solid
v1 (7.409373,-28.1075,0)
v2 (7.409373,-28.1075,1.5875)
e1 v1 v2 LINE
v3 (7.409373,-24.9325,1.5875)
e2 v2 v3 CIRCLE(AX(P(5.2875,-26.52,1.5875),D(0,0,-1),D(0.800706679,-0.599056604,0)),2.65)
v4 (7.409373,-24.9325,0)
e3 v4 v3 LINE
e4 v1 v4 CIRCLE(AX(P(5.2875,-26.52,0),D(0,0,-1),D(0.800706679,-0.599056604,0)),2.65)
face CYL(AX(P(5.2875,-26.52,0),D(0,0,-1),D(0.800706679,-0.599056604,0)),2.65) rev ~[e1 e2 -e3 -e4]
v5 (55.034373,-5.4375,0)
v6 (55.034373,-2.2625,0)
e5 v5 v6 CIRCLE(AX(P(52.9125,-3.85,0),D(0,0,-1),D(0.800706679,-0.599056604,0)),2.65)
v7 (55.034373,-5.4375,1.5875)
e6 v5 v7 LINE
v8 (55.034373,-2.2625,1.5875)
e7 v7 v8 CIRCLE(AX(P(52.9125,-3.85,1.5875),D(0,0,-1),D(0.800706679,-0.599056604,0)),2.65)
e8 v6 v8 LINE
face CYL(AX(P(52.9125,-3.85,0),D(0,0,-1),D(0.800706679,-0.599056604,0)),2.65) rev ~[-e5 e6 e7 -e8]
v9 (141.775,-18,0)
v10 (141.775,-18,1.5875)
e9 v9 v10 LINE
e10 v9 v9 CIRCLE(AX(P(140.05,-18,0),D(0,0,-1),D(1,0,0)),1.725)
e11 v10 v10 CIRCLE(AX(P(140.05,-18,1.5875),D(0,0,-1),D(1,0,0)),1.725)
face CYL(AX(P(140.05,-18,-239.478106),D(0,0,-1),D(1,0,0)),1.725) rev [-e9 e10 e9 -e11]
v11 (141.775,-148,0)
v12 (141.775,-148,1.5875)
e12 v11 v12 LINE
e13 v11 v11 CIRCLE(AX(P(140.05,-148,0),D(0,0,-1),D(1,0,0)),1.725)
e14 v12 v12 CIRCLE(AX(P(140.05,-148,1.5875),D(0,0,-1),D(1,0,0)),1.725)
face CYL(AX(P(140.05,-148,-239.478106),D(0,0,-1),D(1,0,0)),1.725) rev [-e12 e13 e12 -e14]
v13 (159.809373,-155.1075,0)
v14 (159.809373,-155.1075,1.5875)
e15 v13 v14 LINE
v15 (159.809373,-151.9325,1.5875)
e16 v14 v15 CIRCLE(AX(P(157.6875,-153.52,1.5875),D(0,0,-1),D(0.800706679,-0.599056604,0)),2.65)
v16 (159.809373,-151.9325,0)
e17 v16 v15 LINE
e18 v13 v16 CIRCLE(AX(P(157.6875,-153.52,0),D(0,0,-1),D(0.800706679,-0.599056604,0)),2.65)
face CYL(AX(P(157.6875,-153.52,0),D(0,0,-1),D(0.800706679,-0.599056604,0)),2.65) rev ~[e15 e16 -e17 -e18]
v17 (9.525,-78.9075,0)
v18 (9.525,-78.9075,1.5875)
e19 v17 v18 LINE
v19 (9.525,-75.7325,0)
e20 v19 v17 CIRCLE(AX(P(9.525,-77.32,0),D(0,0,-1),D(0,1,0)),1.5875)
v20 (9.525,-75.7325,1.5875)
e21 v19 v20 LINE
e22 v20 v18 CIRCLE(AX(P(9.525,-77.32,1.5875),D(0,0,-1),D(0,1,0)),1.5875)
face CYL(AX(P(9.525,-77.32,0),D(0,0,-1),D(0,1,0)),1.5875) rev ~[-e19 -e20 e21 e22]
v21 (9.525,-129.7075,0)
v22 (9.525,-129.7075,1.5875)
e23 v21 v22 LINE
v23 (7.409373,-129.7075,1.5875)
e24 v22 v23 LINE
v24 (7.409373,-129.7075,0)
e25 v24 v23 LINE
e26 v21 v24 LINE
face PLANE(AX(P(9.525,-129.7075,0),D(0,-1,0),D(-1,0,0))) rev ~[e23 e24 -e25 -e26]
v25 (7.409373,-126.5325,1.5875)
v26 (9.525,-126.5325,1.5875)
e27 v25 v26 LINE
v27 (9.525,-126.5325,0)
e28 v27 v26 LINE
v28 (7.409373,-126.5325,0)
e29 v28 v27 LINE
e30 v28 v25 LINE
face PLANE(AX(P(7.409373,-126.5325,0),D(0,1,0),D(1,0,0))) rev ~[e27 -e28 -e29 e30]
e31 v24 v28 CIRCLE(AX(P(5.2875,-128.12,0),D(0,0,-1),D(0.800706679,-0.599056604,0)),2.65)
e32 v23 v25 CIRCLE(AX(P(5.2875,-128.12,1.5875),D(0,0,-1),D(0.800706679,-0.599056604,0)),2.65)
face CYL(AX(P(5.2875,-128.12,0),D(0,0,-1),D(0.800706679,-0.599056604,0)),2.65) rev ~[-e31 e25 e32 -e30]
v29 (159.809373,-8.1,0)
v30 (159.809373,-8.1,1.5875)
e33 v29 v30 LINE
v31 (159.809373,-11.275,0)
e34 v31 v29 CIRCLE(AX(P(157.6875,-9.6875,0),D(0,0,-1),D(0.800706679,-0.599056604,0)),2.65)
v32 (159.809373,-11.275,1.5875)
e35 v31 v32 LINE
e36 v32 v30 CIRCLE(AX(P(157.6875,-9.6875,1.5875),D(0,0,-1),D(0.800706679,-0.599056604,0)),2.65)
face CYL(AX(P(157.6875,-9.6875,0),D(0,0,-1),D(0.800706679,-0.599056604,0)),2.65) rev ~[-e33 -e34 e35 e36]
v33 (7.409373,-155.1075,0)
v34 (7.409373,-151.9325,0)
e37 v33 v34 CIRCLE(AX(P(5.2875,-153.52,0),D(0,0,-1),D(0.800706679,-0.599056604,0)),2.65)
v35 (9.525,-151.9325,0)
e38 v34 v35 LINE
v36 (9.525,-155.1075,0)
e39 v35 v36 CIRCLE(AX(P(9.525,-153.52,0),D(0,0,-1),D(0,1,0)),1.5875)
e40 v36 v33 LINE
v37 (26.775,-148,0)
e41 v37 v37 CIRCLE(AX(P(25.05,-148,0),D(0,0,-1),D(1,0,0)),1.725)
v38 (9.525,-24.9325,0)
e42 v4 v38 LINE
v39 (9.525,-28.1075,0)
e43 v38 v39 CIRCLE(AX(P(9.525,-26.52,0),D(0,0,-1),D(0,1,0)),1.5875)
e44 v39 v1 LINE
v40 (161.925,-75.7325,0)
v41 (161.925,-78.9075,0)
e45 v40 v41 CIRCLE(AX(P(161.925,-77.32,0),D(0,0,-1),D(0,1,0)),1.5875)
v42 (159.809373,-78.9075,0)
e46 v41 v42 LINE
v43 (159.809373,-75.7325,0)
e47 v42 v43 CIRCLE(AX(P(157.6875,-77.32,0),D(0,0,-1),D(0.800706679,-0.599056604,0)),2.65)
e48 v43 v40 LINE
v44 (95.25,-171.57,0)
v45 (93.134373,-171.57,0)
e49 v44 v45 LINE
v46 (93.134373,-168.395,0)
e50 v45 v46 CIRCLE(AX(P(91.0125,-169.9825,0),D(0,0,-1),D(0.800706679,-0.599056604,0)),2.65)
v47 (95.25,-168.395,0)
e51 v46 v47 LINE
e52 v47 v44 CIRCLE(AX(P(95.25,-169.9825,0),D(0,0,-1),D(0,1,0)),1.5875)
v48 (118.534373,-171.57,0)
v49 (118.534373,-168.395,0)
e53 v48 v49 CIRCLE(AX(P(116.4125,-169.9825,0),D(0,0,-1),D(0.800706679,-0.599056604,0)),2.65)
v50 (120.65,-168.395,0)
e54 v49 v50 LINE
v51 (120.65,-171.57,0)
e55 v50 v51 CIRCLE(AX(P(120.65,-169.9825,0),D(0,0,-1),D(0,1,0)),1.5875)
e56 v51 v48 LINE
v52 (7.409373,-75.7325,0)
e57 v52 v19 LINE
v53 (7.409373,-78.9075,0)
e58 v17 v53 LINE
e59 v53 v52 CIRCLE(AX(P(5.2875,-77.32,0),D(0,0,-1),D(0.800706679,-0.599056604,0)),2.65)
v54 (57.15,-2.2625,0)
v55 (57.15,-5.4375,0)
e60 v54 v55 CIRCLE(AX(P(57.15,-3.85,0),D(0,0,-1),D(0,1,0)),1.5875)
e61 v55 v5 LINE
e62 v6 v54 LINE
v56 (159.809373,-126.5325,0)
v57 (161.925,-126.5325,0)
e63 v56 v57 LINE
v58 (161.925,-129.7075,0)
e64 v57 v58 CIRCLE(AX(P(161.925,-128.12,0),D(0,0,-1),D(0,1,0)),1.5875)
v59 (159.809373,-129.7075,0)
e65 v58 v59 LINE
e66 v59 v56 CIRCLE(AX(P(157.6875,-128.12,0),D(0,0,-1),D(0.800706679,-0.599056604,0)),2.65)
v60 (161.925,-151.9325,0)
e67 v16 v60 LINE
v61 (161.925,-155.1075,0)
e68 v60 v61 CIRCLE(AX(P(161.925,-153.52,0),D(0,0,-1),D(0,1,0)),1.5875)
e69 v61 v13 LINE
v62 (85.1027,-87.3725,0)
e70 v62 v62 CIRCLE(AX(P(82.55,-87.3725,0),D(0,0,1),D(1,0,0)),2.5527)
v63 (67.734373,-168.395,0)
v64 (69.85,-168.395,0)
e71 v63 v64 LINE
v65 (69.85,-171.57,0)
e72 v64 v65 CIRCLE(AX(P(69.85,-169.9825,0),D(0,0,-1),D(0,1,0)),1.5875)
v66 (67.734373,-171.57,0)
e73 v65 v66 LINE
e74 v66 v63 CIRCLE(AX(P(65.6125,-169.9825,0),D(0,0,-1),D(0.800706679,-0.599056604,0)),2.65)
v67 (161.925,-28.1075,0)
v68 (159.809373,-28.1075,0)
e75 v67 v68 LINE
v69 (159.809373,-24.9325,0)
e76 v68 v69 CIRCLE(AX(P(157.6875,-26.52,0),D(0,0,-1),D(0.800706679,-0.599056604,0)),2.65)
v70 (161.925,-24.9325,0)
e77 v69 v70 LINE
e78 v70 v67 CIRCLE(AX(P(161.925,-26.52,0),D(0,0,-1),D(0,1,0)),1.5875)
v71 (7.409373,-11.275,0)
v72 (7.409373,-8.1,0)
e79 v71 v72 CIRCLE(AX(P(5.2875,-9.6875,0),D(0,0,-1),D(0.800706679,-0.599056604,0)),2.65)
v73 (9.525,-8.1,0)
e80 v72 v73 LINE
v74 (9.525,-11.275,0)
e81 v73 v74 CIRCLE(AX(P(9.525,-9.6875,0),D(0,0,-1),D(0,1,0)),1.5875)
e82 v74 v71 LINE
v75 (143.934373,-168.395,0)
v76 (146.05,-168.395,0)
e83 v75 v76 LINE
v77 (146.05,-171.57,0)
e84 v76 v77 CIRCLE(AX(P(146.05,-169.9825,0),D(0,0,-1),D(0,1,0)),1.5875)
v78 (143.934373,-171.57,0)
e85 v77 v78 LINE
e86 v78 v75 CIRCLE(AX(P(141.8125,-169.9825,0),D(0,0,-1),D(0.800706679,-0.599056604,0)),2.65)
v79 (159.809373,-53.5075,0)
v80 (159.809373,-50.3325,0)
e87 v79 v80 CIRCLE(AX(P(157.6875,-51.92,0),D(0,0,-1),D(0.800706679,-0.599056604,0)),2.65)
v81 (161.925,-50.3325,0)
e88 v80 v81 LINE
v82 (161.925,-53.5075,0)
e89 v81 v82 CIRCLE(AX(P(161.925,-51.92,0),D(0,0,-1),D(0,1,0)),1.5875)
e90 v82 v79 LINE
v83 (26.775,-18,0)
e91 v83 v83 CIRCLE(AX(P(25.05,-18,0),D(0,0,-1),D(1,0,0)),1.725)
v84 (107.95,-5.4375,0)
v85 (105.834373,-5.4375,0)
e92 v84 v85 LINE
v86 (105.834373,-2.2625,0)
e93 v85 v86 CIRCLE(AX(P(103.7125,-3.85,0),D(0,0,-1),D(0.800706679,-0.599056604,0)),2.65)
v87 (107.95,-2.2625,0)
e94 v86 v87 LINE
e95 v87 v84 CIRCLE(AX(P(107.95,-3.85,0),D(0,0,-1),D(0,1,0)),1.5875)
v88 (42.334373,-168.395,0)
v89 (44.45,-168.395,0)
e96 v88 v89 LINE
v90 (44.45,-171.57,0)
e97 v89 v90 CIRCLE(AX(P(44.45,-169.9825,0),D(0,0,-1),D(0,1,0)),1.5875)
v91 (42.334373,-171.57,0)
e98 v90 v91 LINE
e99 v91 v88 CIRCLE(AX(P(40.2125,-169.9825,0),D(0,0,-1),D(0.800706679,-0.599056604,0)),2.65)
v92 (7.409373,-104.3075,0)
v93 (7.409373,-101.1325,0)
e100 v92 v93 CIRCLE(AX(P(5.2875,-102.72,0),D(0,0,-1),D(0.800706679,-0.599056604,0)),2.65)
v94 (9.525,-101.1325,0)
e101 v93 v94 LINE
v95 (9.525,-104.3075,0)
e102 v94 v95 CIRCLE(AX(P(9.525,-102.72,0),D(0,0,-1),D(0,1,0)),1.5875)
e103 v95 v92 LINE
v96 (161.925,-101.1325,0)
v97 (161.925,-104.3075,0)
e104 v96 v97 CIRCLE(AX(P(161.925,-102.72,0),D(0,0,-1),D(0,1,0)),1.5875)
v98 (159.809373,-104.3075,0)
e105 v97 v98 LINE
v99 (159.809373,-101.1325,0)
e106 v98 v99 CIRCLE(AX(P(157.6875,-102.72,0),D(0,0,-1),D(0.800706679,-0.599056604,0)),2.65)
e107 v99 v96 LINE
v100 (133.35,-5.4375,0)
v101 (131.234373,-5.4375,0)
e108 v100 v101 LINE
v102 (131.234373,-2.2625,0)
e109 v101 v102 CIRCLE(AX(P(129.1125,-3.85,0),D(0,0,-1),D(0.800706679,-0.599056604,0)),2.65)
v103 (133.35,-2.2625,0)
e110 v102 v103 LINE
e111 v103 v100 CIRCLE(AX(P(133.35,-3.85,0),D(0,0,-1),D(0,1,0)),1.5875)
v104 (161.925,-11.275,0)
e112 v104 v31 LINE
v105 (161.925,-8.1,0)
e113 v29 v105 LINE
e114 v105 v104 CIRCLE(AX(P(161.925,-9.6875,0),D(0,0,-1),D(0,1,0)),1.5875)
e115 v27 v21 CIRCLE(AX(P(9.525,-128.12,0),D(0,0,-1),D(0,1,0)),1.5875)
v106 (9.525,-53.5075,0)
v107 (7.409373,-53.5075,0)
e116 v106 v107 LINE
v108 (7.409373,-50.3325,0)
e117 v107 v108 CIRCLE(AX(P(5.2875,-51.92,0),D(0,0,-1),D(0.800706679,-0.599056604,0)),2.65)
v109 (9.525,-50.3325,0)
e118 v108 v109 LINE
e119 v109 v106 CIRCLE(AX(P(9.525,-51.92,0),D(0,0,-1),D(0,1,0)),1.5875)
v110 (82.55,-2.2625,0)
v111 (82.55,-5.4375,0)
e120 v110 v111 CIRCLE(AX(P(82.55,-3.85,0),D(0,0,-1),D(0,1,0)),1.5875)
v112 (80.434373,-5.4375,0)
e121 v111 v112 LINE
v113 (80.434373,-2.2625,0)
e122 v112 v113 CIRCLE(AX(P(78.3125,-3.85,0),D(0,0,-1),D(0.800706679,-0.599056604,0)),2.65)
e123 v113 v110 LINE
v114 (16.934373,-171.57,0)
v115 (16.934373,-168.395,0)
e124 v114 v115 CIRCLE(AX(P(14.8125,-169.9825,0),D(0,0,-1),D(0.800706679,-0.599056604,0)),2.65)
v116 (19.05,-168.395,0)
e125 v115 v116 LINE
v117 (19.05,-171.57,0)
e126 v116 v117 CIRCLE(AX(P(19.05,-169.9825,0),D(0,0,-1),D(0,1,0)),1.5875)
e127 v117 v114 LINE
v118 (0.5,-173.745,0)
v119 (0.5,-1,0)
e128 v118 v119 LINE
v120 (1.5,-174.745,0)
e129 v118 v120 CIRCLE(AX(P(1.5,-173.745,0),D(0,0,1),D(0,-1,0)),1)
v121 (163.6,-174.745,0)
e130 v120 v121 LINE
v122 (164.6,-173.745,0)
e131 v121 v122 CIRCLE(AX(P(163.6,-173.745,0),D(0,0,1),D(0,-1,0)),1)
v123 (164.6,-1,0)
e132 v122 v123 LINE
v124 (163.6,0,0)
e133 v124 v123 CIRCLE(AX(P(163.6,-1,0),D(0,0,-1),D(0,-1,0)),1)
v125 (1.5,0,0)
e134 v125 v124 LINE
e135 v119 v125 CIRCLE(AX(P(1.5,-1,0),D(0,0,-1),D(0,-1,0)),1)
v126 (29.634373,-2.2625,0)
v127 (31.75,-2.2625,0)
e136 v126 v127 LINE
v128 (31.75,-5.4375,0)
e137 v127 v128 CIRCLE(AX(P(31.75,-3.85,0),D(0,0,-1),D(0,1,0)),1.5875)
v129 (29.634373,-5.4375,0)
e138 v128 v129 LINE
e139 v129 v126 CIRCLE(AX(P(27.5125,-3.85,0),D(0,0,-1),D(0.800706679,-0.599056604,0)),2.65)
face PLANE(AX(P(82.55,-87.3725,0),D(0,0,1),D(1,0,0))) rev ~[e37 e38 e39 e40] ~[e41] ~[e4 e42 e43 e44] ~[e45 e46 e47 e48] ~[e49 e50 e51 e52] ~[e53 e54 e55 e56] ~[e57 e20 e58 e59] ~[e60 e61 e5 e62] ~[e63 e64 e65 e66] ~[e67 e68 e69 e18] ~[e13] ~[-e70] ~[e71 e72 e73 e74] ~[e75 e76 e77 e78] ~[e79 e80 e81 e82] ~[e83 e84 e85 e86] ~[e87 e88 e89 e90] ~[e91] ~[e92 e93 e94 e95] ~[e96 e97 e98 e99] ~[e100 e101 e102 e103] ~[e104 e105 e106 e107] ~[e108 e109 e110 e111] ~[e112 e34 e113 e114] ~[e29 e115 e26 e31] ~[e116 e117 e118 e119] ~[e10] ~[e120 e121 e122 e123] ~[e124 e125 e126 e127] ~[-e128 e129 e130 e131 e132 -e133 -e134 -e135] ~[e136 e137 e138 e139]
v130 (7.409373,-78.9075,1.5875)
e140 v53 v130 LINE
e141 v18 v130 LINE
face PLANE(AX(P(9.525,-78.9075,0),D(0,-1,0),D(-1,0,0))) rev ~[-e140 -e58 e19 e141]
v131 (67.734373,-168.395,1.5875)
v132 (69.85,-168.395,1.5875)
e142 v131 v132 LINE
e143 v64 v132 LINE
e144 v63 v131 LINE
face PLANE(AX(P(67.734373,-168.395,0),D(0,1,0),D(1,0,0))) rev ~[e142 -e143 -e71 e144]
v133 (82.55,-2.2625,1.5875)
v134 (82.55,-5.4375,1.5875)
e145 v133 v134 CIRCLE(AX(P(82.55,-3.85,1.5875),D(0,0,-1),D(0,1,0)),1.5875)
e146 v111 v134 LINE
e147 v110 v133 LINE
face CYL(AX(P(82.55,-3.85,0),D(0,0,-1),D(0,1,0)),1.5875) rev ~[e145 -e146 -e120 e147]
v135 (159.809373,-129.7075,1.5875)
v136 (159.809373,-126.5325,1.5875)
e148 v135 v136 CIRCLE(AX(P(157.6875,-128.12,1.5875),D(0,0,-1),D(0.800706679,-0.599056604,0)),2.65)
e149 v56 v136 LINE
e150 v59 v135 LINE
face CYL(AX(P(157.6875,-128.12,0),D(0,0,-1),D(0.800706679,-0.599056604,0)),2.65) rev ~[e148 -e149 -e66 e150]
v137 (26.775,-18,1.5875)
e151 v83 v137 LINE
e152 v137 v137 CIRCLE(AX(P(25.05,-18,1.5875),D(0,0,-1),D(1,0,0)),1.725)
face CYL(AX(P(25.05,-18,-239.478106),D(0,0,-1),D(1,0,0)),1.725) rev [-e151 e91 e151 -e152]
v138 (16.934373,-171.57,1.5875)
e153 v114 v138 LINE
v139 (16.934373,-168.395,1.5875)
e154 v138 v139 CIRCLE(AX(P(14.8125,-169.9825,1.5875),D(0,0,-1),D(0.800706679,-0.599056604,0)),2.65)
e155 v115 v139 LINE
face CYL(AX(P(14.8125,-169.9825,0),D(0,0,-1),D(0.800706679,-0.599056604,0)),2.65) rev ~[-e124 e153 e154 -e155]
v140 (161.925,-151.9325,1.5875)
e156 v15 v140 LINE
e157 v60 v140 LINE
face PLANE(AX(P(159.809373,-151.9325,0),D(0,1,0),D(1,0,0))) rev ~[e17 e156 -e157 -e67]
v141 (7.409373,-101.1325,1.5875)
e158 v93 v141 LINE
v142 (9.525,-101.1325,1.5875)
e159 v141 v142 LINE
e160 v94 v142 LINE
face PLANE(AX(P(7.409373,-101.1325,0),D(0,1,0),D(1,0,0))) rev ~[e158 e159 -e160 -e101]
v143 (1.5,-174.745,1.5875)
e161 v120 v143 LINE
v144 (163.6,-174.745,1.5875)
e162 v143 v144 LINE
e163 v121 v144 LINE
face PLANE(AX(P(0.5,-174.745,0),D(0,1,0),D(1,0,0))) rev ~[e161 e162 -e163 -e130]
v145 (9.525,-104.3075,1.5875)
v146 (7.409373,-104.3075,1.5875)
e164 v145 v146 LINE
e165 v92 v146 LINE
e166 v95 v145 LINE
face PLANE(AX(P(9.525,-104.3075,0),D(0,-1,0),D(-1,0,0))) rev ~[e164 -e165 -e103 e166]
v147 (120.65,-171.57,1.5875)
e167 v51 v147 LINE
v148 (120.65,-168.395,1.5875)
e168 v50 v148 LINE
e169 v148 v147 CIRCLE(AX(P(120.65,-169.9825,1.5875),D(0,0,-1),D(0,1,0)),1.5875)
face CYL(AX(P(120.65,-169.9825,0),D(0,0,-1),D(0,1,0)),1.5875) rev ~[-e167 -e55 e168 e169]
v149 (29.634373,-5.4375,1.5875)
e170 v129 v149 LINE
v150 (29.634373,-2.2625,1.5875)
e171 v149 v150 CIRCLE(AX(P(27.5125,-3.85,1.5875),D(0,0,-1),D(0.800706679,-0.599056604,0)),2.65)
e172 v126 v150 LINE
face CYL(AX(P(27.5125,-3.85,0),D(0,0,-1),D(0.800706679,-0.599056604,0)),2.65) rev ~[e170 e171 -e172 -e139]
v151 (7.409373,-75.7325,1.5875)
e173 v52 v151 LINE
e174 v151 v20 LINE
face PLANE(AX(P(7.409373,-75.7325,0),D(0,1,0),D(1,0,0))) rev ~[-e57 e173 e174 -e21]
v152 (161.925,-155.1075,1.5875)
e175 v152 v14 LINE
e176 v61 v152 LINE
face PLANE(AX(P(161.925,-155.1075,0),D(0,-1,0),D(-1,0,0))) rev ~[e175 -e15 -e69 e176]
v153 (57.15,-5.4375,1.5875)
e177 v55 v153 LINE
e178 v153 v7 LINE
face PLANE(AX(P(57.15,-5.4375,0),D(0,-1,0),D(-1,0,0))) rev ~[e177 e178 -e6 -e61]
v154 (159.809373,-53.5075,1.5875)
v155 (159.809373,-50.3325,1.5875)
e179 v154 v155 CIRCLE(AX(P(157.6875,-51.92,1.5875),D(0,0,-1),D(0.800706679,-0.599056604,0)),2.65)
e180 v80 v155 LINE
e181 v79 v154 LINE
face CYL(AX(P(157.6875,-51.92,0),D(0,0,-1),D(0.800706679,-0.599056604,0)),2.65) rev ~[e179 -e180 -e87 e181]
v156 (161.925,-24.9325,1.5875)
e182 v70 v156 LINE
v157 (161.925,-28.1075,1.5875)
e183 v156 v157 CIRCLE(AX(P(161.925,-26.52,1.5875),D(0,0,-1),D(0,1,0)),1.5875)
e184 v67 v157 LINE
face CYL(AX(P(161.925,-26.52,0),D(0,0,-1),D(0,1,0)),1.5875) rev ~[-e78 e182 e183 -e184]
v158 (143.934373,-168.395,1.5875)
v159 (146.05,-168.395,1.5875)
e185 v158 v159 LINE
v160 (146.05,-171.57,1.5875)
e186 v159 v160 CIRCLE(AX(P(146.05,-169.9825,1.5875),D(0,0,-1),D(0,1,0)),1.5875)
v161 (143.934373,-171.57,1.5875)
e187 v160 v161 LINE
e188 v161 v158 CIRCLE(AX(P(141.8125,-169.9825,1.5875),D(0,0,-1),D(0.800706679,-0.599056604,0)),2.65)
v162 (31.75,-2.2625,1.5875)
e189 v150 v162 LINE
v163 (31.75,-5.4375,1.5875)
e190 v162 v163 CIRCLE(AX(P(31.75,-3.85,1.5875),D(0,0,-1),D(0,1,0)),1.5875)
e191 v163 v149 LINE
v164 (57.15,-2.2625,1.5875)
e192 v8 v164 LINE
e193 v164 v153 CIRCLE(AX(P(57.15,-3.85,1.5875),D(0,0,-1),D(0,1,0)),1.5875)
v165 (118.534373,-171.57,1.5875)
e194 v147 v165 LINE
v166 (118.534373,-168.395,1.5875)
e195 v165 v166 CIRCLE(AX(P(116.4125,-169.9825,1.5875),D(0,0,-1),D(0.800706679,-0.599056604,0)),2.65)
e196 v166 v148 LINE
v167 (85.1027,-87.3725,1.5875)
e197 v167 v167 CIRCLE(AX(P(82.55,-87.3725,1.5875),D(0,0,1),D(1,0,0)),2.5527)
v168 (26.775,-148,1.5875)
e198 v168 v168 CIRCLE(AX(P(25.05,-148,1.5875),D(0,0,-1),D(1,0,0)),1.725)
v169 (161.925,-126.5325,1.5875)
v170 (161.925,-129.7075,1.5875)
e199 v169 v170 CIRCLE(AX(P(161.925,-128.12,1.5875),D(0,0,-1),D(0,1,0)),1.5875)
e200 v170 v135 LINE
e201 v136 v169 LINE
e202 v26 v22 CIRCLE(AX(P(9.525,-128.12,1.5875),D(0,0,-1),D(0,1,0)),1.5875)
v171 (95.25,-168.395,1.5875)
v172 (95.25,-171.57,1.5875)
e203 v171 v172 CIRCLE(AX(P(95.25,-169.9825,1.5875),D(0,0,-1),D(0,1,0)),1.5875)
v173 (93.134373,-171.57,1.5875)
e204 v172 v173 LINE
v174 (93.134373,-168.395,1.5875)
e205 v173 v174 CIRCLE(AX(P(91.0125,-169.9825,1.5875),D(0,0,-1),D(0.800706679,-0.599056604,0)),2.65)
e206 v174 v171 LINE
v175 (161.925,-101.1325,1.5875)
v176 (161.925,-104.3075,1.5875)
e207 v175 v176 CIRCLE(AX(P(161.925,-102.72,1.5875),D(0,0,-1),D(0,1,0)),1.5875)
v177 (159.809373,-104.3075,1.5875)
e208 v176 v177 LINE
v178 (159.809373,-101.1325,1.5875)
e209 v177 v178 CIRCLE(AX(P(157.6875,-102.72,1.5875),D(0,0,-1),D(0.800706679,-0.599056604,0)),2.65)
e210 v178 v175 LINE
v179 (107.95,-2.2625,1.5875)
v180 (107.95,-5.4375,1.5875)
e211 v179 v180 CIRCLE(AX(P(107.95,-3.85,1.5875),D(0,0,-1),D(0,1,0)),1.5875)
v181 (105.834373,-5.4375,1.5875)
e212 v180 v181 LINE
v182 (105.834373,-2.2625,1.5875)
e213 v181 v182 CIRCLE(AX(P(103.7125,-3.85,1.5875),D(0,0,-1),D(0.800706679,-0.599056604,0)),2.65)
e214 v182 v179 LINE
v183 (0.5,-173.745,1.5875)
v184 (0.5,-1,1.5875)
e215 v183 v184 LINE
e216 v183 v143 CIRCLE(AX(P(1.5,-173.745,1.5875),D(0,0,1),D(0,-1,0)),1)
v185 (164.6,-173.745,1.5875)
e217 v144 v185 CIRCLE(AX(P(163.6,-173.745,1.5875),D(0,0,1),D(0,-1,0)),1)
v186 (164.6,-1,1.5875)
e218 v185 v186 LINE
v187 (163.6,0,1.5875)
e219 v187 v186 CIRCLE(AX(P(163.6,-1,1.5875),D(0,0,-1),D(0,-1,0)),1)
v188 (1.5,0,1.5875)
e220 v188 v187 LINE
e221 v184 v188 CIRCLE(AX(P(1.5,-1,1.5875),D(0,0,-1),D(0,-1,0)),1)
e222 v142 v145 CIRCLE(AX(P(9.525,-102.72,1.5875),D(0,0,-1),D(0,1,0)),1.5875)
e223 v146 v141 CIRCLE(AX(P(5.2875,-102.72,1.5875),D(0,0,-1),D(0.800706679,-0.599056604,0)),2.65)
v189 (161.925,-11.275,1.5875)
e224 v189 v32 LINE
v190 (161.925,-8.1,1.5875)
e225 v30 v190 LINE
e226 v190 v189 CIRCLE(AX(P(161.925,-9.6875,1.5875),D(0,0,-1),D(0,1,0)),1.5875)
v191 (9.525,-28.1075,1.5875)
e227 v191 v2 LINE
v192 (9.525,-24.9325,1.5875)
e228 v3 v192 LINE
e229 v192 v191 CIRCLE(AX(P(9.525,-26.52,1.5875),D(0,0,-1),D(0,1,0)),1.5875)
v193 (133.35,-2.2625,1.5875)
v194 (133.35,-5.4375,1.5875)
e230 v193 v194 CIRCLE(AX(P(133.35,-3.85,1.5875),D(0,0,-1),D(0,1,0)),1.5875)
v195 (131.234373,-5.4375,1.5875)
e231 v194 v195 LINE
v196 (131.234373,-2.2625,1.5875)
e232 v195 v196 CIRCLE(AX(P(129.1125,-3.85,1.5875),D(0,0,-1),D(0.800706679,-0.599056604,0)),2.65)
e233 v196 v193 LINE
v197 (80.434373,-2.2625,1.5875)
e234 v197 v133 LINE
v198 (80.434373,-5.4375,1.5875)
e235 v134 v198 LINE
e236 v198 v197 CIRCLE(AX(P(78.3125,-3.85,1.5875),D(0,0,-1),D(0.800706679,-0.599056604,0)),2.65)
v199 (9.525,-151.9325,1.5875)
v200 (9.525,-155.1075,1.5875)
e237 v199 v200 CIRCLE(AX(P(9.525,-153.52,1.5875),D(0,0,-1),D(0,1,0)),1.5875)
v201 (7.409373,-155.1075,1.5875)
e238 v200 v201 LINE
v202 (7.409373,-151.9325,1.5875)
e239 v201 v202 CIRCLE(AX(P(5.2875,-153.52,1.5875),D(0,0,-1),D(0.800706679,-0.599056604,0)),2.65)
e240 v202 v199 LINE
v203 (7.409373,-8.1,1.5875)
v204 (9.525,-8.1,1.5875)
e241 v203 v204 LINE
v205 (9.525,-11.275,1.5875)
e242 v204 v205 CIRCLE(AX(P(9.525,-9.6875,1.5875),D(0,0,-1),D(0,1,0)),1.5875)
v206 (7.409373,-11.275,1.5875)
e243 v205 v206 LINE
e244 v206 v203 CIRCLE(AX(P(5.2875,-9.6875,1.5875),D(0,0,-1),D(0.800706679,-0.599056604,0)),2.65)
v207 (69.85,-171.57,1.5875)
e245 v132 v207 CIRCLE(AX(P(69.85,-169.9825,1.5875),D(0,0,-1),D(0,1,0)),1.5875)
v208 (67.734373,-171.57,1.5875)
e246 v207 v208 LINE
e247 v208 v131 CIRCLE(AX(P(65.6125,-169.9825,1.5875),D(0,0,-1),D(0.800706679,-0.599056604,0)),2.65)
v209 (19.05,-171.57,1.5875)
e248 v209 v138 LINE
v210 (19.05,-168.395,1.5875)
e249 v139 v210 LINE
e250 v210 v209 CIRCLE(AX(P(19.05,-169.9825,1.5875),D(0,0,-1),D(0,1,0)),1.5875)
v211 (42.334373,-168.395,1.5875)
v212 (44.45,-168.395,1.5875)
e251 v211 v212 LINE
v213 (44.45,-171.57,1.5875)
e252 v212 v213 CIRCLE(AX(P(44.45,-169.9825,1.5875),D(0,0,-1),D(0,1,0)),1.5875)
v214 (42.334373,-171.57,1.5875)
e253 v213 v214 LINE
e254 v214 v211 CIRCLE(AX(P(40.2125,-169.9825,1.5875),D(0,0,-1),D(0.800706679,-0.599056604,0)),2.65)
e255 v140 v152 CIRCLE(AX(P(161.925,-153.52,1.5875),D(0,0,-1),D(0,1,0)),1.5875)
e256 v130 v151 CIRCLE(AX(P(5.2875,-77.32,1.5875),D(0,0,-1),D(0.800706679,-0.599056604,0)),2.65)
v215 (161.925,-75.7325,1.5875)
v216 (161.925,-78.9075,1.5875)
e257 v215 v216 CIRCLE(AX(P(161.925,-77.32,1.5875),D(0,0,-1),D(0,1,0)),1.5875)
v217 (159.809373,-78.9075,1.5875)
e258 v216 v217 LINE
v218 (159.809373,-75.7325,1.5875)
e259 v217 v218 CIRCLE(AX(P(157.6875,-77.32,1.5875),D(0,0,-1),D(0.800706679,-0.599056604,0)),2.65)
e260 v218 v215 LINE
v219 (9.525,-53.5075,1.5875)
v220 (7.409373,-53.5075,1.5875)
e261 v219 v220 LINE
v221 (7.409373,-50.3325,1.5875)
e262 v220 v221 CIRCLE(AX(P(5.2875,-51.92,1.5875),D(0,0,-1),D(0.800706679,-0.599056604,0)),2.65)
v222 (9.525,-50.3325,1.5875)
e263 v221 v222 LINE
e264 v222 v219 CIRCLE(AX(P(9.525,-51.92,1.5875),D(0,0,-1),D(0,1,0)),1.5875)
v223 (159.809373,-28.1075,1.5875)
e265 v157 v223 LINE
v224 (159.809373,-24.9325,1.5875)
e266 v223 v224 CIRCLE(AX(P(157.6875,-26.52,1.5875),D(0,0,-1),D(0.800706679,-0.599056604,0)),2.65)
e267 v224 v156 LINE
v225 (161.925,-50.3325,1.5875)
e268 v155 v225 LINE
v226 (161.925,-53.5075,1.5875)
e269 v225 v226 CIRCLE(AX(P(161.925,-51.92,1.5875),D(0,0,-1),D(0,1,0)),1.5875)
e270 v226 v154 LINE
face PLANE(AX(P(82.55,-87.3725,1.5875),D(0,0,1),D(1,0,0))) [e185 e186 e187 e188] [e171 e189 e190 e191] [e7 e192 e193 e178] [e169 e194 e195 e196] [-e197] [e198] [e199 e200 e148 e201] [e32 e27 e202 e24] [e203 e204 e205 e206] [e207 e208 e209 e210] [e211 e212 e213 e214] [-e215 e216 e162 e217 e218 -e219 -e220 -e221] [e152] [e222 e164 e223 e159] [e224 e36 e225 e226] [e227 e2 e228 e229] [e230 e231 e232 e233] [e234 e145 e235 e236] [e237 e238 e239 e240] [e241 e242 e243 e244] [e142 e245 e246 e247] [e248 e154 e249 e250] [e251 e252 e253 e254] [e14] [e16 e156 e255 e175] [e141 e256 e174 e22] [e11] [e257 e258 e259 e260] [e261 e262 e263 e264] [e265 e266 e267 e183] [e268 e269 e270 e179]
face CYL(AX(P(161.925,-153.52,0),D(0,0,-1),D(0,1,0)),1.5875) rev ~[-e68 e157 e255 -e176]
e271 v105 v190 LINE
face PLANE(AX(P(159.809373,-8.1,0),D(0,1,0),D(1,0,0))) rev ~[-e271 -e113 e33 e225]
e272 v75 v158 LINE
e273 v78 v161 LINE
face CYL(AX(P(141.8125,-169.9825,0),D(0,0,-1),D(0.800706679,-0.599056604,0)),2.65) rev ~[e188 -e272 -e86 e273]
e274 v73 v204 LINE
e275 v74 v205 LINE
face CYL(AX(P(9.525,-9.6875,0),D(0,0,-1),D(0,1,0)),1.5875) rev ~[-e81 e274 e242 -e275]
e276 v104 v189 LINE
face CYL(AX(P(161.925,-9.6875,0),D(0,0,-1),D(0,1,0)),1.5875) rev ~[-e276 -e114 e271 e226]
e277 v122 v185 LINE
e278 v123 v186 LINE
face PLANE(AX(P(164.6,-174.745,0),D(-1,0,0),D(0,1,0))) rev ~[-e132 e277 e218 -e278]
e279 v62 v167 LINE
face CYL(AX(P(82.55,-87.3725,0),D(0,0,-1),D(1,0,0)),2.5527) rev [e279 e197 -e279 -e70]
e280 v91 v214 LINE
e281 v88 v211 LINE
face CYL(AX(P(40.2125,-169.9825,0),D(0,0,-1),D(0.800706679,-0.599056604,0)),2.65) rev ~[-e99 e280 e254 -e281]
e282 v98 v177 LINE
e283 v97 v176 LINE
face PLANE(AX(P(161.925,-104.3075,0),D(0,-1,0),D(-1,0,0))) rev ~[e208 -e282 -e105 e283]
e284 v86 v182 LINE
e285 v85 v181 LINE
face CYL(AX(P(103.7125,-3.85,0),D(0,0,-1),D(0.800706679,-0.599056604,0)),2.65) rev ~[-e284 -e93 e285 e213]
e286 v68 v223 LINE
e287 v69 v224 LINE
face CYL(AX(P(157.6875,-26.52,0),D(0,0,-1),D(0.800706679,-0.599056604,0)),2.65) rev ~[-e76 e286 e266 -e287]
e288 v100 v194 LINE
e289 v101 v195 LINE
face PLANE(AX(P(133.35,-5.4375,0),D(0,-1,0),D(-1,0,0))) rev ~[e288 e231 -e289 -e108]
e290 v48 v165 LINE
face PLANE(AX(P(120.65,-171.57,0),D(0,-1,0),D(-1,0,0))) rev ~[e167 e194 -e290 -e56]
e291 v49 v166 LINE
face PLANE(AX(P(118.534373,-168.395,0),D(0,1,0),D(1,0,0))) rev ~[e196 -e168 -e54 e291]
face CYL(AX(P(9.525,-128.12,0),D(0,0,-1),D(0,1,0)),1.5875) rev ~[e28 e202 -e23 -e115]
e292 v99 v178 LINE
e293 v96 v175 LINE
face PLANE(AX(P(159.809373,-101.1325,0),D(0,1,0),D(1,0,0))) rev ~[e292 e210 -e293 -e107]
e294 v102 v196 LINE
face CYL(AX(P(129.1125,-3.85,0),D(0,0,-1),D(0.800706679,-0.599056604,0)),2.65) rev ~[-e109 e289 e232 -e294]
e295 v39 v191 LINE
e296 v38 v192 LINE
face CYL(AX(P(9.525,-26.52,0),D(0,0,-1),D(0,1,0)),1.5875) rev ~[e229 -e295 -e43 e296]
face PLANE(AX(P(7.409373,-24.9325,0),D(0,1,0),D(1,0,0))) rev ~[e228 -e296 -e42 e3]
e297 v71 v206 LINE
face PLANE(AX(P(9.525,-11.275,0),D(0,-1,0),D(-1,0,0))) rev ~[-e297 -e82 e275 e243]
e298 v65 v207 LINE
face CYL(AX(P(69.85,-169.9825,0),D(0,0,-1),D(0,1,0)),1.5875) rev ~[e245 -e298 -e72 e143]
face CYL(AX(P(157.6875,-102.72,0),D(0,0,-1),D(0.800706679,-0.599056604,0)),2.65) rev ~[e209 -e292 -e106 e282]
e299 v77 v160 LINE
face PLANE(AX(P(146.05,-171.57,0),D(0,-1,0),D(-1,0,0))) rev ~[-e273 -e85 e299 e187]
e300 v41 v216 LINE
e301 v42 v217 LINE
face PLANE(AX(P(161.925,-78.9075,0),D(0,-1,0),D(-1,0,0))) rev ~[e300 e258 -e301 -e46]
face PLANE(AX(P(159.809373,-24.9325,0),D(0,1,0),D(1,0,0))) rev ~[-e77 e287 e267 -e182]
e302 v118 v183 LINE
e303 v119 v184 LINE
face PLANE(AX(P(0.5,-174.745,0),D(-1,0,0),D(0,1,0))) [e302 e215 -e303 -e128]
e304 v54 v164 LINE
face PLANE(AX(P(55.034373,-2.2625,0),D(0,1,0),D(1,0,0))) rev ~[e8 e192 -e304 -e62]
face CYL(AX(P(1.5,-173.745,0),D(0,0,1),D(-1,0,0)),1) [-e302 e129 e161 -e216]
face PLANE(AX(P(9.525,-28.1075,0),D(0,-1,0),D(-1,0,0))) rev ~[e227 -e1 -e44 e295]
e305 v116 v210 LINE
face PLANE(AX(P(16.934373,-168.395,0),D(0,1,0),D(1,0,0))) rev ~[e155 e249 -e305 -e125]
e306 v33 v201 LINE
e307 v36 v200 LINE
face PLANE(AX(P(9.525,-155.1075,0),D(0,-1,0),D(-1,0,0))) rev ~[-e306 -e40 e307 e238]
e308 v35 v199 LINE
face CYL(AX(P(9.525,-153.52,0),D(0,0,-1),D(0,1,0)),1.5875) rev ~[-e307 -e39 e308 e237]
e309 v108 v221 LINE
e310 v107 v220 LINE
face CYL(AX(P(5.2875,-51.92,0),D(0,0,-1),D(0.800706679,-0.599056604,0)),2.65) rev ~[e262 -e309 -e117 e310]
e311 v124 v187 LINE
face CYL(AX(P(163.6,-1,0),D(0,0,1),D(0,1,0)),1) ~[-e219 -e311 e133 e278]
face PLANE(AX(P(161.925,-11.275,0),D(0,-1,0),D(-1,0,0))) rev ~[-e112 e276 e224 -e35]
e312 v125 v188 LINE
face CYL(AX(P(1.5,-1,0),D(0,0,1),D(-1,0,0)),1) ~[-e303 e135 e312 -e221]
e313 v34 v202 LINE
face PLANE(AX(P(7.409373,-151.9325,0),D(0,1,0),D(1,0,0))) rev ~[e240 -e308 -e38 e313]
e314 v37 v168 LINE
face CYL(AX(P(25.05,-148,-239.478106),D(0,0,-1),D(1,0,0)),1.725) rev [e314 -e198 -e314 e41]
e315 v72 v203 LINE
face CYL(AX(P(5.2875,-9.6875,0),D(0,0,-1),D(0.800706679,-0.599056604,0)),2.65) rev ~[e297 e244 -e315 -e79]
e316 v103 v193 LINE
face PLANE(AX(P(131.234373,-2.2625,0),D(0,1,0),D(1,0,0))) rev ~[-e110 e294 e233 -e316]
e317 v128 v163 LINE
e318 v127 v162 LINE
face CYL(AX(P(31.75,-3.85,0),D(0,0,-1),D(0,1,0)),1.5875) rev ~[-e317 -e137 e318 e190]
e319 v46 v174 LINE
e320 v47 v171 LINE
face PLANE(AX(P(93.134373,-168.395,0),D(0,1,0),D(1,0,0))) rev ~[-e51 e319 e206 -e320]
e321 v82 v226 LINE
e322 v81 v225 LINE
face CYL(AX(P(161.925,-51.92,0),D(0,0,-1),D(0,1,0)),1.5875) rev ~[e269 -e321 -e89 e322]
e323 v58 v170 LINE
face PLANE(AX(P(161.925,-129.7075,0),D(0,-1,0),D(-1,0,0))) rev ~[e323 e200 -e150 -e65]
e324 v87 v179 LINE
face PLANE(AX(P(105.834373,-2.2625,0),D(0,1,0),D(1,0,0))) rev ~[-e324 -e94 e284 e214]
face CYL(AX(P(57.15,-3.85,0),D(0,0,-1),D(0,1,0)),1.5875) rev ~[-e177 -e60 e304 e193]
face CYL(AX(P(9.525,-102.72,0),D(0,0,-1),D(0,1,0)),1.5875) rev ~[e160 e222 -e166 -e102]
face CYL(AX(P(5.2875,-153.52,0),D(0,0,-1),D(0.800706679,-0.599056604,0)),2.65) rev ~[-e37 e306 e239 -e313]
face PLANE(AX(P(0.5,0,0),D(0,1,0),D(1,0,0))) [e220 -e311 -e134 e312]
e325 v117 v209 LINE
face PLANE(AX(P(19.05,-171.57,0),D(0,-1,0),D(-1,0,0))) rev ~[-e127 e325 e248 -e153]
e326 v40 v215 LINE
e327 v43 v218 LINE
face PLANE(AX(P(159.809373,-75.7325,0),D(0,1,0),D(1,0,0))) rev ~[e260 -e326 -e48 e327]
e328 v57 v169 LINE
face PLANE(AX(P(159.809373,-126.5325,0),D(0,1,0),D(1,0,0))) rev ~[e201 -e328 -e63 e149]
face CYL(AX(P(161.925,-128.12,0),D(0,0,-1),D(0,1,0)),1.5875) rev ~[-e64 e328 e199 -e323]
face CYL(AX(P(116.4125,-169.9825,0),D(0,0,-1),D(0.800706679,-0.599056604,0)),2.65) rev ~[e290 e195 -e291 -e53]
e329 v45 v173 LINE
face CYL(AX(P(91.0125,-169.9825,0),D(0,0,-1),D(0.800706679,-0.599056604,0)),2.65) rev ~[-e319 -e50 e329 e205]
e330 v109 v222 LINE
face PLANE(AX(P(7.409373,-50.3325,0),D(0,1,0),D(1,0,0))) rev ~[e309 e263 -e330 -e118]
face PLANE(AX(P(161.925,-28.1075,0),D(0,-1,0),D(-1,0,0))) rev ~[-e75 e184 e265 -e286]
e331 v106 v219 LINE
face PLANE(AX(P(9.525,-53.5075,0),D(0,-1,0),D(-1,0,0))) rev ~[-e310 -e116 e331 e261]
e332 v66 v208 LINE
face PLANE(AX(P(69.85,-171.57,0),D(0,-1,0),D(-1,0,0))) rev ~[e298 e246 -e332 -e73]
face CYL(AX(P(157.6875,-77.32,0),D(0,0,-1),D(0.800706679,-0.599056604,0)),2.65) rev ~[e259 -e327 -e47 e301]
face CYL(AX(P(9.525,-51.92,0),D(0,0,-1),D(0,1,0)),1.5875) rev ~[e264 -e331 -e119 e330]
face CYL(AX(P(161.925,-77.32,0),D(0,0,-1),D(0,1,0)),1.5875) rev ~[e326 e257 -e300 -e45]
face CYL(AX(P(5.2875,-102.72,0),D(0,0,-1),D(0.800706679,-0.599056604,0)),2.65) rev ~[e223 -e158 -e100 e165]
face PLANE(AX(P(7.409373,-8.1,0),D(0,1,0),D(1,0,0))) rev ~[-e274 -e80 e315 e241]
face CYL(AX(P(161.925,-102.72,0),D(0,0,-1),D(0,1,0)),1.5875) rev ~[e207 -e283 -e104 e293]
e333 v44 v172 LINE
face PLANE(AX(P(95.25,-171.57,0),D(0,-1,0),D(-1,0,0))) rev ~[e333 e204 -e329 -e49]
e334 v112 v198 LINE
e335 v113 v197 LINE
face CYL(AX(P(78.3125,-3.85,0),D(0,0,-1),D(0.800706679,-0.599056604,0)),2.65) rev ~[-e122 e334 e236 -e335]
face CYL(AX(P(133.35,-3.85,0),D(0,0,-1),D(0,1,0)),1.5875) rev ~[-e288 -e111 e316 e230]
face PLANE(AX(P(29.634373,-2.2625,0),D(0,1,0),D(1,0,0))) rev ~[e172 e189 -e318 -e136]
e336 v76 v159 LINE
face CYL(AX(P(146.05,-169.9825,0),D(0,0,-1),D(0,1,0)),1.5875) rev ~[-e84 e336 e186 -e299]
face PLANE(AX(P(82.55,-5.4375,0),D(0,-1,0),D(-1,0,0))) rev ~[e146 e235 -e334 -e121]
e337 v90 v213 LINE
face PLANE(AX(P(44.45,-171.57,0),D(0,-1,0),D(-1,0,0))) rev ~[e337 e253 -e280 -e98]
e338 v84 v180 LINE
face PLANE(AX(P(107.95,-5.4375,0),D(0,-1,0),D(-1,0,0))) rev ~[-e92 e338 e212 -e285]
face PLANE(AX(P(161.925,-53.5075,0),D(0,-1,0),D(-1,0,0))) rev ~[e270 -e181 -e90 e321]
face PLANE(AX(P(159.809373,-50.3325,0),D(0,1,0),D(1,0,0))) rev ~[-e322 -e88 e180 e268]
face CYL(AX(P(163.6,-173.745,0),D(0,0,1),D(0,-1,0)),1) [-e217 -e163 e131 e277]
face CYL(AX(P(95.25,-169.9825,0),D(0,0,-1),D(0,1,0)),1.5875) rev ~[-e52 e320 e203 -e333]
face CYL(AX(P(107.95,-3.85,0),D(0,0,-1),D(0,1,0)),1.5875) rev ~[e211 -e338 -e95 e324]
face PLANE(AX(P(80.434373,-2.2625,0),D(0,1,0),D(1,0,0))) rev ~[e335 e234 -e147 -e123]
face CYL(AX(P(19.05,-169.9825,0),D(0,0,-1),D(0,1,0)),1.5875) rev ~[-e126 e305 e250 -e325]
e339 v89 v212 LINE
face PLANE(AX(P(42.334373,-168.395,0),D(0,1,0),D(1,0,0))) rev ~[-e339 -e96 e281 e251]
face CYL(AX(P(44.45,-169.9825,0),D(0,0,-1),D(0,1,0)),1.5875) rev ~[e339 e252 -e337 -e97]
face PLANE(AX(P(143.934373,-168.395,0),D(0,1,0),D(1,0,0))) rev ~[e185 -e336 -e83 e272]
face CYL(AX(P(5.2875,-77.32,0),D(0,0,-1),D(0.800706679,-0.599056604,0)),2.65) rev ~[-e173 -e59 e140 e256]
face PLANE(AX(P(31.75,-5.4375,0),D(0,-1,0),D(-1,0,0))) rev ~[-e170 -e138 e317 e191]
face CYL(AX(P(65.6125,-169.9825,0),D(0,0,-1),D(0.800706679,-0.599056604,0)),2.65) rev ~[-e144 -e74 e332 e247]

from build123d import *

# Parameters (mm, degrees)
SKETCH1_W               = 164.1
SKETCH1_H               = 174.745
SKETCH1_R               = 2.5527
BOSS_EXTRUDE1_DEPTH     = 1.5875
FILLET1_R               = 1
CUT_EXTRUDE1_DEPTH      = 241.065605994
CUT_EXTRUDE1_DEPTH_BACK = 241.065605994
SKETCH2_R               = 1.725


with BuildPart() as part:
    # Sketch1 → Boss-Extrude1 (new body)
    with BuildSketch(Plane.XY):
        with Locations((82.55, -87.3725)):
            Rectangle(SKETCH1_W, SKETCH1_H)
        with Locations((82.55, -87.3725)):
            Circle(SKETCH1_R, mode=Mode.SUBTRACT)
        with BuildLine():
            Line((82.55, -5.4375), (80.434372699, -5.4375))
            ThreePointArc((80.434372699, -5.4375), (75.6625, -3.85), (80.434372699, -2.2625))
            Line((80.434372699, -2.2625), (82.55, -2.2625))
            ThreePointArc((82.55, -2.2625), (84.1375, -3.85), (82.55, -5.4375))
        make_face(mode=Mode.SUBTRACT)
        with BuildLine():
            Line((16.934372699, -168.395), (19.05, -168.395))
            ThreePointArc((19.05, -168.395), (20.6375, -169.9825), (19.05, -171.57))
            Line((19.05, -171.57), (16.934372699, -171.57))
            ThreePointArc((16.934372699, -171.57), (12.1625, -169.9825), (16.934372699, -168.395))
        make_face(mode=Mode.SUBTRACT)
        with BuildLine():
            Line((7.409372699, -151.9325), (9.525, -151.9325))
            ThreePointArc((9.525, -151.9325), (11.1125, -153.52), (9.525, -155.1075))
            Line((9.525, -155.1075), (7.409372699, -155.1075))
            ThreePointArc((7.409372699, -155.1075), (2.6375, -153.52), (7.409372699, -151.9325))
        make_face(mode=Mode.SUBTRACT)
        with BuildLine():
            Line((42.334372699, -168.395), (44.45, -168.395))
            ThreePointArc((44.45, -168.395), (46.0375, -169.9825), (44.45, -171.57))
            Line((44.45, -171.57), (42.334372699, -171.57))
            ThreePointArc((42.334372699, -171.57), (37.5625, -169.9825), (42.334372699, -168.395))
        make_face(mode=Mode.SUBTRACT)
        with BuildLine():
            Line((67.734372699, -168.395), (69.85, -168.395))
            ThreePointArc((69.85, -168.395), (71.4375, -169.9825), (69.85, -171.57))
            Line((69.85, -171.57), (67.734372699, -171.57))
            ThreePointArc((67.734372699, -171.57), (62.9625, -169.9825), (67.734372699, -168.395))
        make_face(mode=Mode.SUBTRACT)
        with BuildLine():
            Line((7.409372699, -126.5325), (9.525, -126.5325))
            ThreePointArc((9.525, -126.5325), (11.1125, -128.12), (9.525, -129.7075))
            Line((9.525, -129.7075), (7.409372699, -129.7075))
            ThreePointArc((7.409372699, -129.7075), (2.6375, -128.12), (7.409372699, -126.5325))
        make_face(mode=Mode.SUBTRACT)
        with BuildLine():
            Line((7.409372699, -101.1325), (9.525, -101.1325))
            ThreePointArc((9.525, -101.1325), (11.1125, -102.72), (9.525, -104.3075))
            Line((9.525, -104.3075), (7.409372699, -104.3075))
            ThreePointArc((7.409372699, -104.3075), (2.6375, -102.72), (7.409372699, -101.1325))
        make_face(mode=Mode.SUBTRACT)
        with BuildLine():
            Line((7.409372699, -75.7325), (9.525, -75.7325))
            ThreePointArc((9.525, -75.7325), (11.1125, -77.32), (9.525, -78.9075))
            Line((9.525, -78.9075), (7.409372699, -78.9075))
            ThreePointArc((7.409372699, -78.9075), (2.6375, -77.32), (7.409372699, -75.7325))
        make_face(mode=Mode.SUBTRACT)
        with BuildLine():
            Line((7.409372699, -50.3325), (9.525, -50.3325))
            ThreePointArc((9.525, -50.3325), (11.1125, -51.92), (9.525, -53.5075))
            Line((9.525, -53.5075), (7.409372699, -53.5075))
            ThreePointArc((7.409372699, -53.5075), (2.6375, -51.92), (7.409372699, -50.3325))
        make_face(mode=Mode.SUBTRACT)
        with BuildLine():
            Line((7.409372699, -24.9325), (9.525, -24.9325))
            ThreePointArc((9.525, -24.9325), (11.1125, -26.52), (9.525, -28.1075))
            Line((9.525, -28.1075), (7.409372699, -28.1075))
            ThreePointArc((7.409372699, -28.1075), (2.6375, -26.52), (7.409372699, -24.9325))
        make_face(mode=Mode.SUBTRACT)
        with BuildLine():
            Line((7.409372699, -8.1), (9.525, -8.1))
            ThreePointArc((9.525, -8.1), (11.1125, -9.6875), (9.525, -11.275))
            Line((9.525, -11.275), (7.409372699, -11.275))
            ThreePointArc((7.409372699, -11.275), (2.6375, -9.6875), (7.409372699, -8.1))
        make_face(mode=Mode.SUBTRACT)
        with BuildLine():
            Line((29.634372699, -2.2625), (31.75, -2.2625))
            ThreePointArc((31.75, -2.2625), (33.3375, -3.85), (31.75, -5.4375))
            Line((31.75, -5.4375), (29.634372699, -5.4375))
            ThreePointArc((29.634372699, -5.4375), (24.8625, -3.85), (29.634372699, -2.2625))
        make_face(mode=Mode.SUBTRACT)
        with BuildLine():
            Line((55.034372699, -2.2625), (57.15, -2.2625))
            ThreePointArc((57.15, -2.2625), (58.7375, -3.85), (57.15, -5.4375))
            Line((57.15, -5.4375), (55.034372699, -5.4375))
            ThreePointArc((55.034372699, -5.4375), (50.2625, -3.85), (55.034372699, -2.2625))
        make_face(mode=Mode.SUBTRACT)
        with BuildLine():
            ThreePointArc((161.925, -8.1), (163.5125, -9.6875), (161.925, -11.275))
            Line((161.925, -11.275), (159.809372699, -11.275))
            ThreePointArc((159.809372699, -11.275), (155.0375, -9.6875), (159.809372699, -8.1))
            Line((159.809372699, -8.1), (161.925, -8.1))
        make_face(mode=Mode.SUBTRACT)
        with BuildLine():
            Line((93.134372699, -168.395), (95.25, -168.395))
            ThreePointArc((95.25, -168.395), (96.8375, -169.9825), (95.25, -171.57))
            Line((95.25, -171.57), (93.134372699, -171.57))
            ThreePointArc((93.134372699, -171.57), (88.3625, -169.9825), (93.134372699, -168.395))
        make_face(mode=Mode.SUBTRACT)
        with BuildLine():
            Line((118.534372699, -168.395), (120.65, -168.395))
            ThreePointArc((120.65, -168.395), (122.2375, -169.9825), (120.65, -171.57))
            Line((120.65, -171.57), (118.534372699, -171.57))
            ThreePointArc((118.534372699, -171.57), (113.7625, -169.9825), (118.534372699, -168.395))
        make_face(mode=Mode.SUBTRACT)
        with BuildLine():
            Line((143.934372699, -168.395), (146.05, -168.395))
            ThreePointArc((146.05, -168.395), (147.6375, -169.9825), (146.05, -171.57))
            Line((146.05, -171.57), (143.934372699, -171.57))
            ThreePointArc((143.934372699, -171.57), (139.1625, -169.9825), (143.934372699, -168.395))
        make_face(mode=Mode.SUBTRACT)
        with BuildLine():
            Line((159.809372699, -151.9325), (161.925, -151.9325))
            ThreePointArc((161.925, -151.9325), (163.5125, -153.52), (161.925, -155.1075))
            Line((161.925, -155.1075), (159.809372699, -155.1075))
            ThreePointArc((159.809372699, -155.1075), (155.0375, -153.52), (159.809372699, -151.9325))
        make_face(mode=Mode.SUBTRACT)
        with BuildLine():
            Line((159.809372699, -126.5325), (161.925, -126.5325))
            ThreePointArc((161.925, -126.5325), (163.5125, -128.12), (161.925, -129.7075))
            Line((161.925, -129.7075), (159.809372699, -129.7075))
            ThreePointArc((159.809372699, -129.7075), (155.0375, -128.12), (159.809372699, -126.5325))
        make_face(mode=Mode.SUBTRACT)
        with BuildLine():
            Line((159.809372699, -101.1325), (161.925, -101.1325))
            ThreePointArc((161.925, -101.1325), (163.5125, -102.72), (161.925, -104.3075))
            Line((161.925, -104.3075), (159.809372699, -104.3075))
            ThreePointArc((159.809372699, -104.3075), (155.0375, -102.72), (159.809372699, -101.1325))
        make_face(mode=Mode.SUBTRACT)
        with BuildLine():
            Line((159.809372699, -75.7325), (161.925, -75.7325))
            ThreePointArc((161.925, -75.7325), (163.5125, -77.32), (161.925, -78.9075))
            Line((161.925, -78.9075), (159.809372699, -78.9075))
            ThreePointArc((159.809372699, -78.9075), (155.0375, -77.32), (159.809372699, -75.7325))
        make_face(mode=Mode.SUBTRACT)
        with BuildLine():
            Line((159.809372699, -50.3325), (161.925, -50.3325))
            ThreePointArc((161.925, -50.3325), (163.5125, -51.92), (161.925, -53.5075))
            Line((161.925, -53.5075), (159.809372699, -53.5075))
            ThreePointArc((159.809372699, -53.5075), (155.0375, -51.92), (159.809372699, -50.3325))
        make_face(mode=Mode.SUBTRACT)
        with BuildLine():
            Line((105.834372699, -2.2625), (107.95, -2.2625))
            ThreePointArc((107.95, -2.2625), (109.5375, -3.85), (107.95, -5.4375))
            Line((107.95, -5.4375), (105.834372699, -5.4375))
            ThreePointArc((105.834372699, -5.4375), (101.0625, -3.85), (105.834372699, -2.2625))
        make_face(mode=Mode.SUBTRACT)
        with BuildLine():
            Line((159.809372699, -24.9325), (161.925, -24.9325))
            ThreePointArc((161.925, -24.9325), (163.5125, -26.52), (161.925, -28.1075))
            Line((161.925, -28.1075), (159.809372699, -28.1075))
            ThreePointArc((159.809372699, -28.1075), (155.0375, -26.52), (159.809372699, -24.9325))
        make_face(mode=Mode.SUBTRACT)
        with BuildLine():
            Line((131.234372699, -2.2625), (133.35, -2.2625))
            ThreePointArc((133.35, -2.2625), (134.9375, -3.85), (133.35, -5.4375))
            Line((133.35, -5.4375), (131.234372699, -5.4375))
            ThreePointArc((131.234372699, -5.4375), (126.4625, -3.85), (131.234372699, -2.2625))
        make_face(mode=Mode.SUBTRACT)
    extrude(amount=BOSS_EXTRUDE1_DEPTH)

    # Fillet1
    fillet1_edges = [part.edges().sort_by_distance(p)[0] for p in [
        (0.5, -174.745, 0.79375),
        (0.5, 0, 0.79375),
        (164.6, 0, 0.79375),
        (164.6, -174.745, 0.79375),
    ]]
    fillet(fillet1_edges, radius=FILLET1_R)

    # Sketch2 → Cut-Extrude1 (cut, two sides: drawn at the far end of the back side and taken through both)
    with BuildSketch(Plane.XY.offset(1.5875).offset(-CUT_EXTRUDE1_DEPTH_BACK)):
        with Locations((25.05, -18)):
            Circle(SKETCH2_R)
        with Locations((140.05, -18)):
            Circle(SKETCH2_R)
        with Locations((140.05, -148)):
            Circle(SKETCH2_R)
        with Locations((25.05, -148)):
            Circle(SKETCH2_R)
    extrude(amount=CUT_EXTRUDE1_DEPTH + CUT_EXTRUDE1_DEPTH_BACK, mode=Mode.SUBTRACT)


solid = part.part
